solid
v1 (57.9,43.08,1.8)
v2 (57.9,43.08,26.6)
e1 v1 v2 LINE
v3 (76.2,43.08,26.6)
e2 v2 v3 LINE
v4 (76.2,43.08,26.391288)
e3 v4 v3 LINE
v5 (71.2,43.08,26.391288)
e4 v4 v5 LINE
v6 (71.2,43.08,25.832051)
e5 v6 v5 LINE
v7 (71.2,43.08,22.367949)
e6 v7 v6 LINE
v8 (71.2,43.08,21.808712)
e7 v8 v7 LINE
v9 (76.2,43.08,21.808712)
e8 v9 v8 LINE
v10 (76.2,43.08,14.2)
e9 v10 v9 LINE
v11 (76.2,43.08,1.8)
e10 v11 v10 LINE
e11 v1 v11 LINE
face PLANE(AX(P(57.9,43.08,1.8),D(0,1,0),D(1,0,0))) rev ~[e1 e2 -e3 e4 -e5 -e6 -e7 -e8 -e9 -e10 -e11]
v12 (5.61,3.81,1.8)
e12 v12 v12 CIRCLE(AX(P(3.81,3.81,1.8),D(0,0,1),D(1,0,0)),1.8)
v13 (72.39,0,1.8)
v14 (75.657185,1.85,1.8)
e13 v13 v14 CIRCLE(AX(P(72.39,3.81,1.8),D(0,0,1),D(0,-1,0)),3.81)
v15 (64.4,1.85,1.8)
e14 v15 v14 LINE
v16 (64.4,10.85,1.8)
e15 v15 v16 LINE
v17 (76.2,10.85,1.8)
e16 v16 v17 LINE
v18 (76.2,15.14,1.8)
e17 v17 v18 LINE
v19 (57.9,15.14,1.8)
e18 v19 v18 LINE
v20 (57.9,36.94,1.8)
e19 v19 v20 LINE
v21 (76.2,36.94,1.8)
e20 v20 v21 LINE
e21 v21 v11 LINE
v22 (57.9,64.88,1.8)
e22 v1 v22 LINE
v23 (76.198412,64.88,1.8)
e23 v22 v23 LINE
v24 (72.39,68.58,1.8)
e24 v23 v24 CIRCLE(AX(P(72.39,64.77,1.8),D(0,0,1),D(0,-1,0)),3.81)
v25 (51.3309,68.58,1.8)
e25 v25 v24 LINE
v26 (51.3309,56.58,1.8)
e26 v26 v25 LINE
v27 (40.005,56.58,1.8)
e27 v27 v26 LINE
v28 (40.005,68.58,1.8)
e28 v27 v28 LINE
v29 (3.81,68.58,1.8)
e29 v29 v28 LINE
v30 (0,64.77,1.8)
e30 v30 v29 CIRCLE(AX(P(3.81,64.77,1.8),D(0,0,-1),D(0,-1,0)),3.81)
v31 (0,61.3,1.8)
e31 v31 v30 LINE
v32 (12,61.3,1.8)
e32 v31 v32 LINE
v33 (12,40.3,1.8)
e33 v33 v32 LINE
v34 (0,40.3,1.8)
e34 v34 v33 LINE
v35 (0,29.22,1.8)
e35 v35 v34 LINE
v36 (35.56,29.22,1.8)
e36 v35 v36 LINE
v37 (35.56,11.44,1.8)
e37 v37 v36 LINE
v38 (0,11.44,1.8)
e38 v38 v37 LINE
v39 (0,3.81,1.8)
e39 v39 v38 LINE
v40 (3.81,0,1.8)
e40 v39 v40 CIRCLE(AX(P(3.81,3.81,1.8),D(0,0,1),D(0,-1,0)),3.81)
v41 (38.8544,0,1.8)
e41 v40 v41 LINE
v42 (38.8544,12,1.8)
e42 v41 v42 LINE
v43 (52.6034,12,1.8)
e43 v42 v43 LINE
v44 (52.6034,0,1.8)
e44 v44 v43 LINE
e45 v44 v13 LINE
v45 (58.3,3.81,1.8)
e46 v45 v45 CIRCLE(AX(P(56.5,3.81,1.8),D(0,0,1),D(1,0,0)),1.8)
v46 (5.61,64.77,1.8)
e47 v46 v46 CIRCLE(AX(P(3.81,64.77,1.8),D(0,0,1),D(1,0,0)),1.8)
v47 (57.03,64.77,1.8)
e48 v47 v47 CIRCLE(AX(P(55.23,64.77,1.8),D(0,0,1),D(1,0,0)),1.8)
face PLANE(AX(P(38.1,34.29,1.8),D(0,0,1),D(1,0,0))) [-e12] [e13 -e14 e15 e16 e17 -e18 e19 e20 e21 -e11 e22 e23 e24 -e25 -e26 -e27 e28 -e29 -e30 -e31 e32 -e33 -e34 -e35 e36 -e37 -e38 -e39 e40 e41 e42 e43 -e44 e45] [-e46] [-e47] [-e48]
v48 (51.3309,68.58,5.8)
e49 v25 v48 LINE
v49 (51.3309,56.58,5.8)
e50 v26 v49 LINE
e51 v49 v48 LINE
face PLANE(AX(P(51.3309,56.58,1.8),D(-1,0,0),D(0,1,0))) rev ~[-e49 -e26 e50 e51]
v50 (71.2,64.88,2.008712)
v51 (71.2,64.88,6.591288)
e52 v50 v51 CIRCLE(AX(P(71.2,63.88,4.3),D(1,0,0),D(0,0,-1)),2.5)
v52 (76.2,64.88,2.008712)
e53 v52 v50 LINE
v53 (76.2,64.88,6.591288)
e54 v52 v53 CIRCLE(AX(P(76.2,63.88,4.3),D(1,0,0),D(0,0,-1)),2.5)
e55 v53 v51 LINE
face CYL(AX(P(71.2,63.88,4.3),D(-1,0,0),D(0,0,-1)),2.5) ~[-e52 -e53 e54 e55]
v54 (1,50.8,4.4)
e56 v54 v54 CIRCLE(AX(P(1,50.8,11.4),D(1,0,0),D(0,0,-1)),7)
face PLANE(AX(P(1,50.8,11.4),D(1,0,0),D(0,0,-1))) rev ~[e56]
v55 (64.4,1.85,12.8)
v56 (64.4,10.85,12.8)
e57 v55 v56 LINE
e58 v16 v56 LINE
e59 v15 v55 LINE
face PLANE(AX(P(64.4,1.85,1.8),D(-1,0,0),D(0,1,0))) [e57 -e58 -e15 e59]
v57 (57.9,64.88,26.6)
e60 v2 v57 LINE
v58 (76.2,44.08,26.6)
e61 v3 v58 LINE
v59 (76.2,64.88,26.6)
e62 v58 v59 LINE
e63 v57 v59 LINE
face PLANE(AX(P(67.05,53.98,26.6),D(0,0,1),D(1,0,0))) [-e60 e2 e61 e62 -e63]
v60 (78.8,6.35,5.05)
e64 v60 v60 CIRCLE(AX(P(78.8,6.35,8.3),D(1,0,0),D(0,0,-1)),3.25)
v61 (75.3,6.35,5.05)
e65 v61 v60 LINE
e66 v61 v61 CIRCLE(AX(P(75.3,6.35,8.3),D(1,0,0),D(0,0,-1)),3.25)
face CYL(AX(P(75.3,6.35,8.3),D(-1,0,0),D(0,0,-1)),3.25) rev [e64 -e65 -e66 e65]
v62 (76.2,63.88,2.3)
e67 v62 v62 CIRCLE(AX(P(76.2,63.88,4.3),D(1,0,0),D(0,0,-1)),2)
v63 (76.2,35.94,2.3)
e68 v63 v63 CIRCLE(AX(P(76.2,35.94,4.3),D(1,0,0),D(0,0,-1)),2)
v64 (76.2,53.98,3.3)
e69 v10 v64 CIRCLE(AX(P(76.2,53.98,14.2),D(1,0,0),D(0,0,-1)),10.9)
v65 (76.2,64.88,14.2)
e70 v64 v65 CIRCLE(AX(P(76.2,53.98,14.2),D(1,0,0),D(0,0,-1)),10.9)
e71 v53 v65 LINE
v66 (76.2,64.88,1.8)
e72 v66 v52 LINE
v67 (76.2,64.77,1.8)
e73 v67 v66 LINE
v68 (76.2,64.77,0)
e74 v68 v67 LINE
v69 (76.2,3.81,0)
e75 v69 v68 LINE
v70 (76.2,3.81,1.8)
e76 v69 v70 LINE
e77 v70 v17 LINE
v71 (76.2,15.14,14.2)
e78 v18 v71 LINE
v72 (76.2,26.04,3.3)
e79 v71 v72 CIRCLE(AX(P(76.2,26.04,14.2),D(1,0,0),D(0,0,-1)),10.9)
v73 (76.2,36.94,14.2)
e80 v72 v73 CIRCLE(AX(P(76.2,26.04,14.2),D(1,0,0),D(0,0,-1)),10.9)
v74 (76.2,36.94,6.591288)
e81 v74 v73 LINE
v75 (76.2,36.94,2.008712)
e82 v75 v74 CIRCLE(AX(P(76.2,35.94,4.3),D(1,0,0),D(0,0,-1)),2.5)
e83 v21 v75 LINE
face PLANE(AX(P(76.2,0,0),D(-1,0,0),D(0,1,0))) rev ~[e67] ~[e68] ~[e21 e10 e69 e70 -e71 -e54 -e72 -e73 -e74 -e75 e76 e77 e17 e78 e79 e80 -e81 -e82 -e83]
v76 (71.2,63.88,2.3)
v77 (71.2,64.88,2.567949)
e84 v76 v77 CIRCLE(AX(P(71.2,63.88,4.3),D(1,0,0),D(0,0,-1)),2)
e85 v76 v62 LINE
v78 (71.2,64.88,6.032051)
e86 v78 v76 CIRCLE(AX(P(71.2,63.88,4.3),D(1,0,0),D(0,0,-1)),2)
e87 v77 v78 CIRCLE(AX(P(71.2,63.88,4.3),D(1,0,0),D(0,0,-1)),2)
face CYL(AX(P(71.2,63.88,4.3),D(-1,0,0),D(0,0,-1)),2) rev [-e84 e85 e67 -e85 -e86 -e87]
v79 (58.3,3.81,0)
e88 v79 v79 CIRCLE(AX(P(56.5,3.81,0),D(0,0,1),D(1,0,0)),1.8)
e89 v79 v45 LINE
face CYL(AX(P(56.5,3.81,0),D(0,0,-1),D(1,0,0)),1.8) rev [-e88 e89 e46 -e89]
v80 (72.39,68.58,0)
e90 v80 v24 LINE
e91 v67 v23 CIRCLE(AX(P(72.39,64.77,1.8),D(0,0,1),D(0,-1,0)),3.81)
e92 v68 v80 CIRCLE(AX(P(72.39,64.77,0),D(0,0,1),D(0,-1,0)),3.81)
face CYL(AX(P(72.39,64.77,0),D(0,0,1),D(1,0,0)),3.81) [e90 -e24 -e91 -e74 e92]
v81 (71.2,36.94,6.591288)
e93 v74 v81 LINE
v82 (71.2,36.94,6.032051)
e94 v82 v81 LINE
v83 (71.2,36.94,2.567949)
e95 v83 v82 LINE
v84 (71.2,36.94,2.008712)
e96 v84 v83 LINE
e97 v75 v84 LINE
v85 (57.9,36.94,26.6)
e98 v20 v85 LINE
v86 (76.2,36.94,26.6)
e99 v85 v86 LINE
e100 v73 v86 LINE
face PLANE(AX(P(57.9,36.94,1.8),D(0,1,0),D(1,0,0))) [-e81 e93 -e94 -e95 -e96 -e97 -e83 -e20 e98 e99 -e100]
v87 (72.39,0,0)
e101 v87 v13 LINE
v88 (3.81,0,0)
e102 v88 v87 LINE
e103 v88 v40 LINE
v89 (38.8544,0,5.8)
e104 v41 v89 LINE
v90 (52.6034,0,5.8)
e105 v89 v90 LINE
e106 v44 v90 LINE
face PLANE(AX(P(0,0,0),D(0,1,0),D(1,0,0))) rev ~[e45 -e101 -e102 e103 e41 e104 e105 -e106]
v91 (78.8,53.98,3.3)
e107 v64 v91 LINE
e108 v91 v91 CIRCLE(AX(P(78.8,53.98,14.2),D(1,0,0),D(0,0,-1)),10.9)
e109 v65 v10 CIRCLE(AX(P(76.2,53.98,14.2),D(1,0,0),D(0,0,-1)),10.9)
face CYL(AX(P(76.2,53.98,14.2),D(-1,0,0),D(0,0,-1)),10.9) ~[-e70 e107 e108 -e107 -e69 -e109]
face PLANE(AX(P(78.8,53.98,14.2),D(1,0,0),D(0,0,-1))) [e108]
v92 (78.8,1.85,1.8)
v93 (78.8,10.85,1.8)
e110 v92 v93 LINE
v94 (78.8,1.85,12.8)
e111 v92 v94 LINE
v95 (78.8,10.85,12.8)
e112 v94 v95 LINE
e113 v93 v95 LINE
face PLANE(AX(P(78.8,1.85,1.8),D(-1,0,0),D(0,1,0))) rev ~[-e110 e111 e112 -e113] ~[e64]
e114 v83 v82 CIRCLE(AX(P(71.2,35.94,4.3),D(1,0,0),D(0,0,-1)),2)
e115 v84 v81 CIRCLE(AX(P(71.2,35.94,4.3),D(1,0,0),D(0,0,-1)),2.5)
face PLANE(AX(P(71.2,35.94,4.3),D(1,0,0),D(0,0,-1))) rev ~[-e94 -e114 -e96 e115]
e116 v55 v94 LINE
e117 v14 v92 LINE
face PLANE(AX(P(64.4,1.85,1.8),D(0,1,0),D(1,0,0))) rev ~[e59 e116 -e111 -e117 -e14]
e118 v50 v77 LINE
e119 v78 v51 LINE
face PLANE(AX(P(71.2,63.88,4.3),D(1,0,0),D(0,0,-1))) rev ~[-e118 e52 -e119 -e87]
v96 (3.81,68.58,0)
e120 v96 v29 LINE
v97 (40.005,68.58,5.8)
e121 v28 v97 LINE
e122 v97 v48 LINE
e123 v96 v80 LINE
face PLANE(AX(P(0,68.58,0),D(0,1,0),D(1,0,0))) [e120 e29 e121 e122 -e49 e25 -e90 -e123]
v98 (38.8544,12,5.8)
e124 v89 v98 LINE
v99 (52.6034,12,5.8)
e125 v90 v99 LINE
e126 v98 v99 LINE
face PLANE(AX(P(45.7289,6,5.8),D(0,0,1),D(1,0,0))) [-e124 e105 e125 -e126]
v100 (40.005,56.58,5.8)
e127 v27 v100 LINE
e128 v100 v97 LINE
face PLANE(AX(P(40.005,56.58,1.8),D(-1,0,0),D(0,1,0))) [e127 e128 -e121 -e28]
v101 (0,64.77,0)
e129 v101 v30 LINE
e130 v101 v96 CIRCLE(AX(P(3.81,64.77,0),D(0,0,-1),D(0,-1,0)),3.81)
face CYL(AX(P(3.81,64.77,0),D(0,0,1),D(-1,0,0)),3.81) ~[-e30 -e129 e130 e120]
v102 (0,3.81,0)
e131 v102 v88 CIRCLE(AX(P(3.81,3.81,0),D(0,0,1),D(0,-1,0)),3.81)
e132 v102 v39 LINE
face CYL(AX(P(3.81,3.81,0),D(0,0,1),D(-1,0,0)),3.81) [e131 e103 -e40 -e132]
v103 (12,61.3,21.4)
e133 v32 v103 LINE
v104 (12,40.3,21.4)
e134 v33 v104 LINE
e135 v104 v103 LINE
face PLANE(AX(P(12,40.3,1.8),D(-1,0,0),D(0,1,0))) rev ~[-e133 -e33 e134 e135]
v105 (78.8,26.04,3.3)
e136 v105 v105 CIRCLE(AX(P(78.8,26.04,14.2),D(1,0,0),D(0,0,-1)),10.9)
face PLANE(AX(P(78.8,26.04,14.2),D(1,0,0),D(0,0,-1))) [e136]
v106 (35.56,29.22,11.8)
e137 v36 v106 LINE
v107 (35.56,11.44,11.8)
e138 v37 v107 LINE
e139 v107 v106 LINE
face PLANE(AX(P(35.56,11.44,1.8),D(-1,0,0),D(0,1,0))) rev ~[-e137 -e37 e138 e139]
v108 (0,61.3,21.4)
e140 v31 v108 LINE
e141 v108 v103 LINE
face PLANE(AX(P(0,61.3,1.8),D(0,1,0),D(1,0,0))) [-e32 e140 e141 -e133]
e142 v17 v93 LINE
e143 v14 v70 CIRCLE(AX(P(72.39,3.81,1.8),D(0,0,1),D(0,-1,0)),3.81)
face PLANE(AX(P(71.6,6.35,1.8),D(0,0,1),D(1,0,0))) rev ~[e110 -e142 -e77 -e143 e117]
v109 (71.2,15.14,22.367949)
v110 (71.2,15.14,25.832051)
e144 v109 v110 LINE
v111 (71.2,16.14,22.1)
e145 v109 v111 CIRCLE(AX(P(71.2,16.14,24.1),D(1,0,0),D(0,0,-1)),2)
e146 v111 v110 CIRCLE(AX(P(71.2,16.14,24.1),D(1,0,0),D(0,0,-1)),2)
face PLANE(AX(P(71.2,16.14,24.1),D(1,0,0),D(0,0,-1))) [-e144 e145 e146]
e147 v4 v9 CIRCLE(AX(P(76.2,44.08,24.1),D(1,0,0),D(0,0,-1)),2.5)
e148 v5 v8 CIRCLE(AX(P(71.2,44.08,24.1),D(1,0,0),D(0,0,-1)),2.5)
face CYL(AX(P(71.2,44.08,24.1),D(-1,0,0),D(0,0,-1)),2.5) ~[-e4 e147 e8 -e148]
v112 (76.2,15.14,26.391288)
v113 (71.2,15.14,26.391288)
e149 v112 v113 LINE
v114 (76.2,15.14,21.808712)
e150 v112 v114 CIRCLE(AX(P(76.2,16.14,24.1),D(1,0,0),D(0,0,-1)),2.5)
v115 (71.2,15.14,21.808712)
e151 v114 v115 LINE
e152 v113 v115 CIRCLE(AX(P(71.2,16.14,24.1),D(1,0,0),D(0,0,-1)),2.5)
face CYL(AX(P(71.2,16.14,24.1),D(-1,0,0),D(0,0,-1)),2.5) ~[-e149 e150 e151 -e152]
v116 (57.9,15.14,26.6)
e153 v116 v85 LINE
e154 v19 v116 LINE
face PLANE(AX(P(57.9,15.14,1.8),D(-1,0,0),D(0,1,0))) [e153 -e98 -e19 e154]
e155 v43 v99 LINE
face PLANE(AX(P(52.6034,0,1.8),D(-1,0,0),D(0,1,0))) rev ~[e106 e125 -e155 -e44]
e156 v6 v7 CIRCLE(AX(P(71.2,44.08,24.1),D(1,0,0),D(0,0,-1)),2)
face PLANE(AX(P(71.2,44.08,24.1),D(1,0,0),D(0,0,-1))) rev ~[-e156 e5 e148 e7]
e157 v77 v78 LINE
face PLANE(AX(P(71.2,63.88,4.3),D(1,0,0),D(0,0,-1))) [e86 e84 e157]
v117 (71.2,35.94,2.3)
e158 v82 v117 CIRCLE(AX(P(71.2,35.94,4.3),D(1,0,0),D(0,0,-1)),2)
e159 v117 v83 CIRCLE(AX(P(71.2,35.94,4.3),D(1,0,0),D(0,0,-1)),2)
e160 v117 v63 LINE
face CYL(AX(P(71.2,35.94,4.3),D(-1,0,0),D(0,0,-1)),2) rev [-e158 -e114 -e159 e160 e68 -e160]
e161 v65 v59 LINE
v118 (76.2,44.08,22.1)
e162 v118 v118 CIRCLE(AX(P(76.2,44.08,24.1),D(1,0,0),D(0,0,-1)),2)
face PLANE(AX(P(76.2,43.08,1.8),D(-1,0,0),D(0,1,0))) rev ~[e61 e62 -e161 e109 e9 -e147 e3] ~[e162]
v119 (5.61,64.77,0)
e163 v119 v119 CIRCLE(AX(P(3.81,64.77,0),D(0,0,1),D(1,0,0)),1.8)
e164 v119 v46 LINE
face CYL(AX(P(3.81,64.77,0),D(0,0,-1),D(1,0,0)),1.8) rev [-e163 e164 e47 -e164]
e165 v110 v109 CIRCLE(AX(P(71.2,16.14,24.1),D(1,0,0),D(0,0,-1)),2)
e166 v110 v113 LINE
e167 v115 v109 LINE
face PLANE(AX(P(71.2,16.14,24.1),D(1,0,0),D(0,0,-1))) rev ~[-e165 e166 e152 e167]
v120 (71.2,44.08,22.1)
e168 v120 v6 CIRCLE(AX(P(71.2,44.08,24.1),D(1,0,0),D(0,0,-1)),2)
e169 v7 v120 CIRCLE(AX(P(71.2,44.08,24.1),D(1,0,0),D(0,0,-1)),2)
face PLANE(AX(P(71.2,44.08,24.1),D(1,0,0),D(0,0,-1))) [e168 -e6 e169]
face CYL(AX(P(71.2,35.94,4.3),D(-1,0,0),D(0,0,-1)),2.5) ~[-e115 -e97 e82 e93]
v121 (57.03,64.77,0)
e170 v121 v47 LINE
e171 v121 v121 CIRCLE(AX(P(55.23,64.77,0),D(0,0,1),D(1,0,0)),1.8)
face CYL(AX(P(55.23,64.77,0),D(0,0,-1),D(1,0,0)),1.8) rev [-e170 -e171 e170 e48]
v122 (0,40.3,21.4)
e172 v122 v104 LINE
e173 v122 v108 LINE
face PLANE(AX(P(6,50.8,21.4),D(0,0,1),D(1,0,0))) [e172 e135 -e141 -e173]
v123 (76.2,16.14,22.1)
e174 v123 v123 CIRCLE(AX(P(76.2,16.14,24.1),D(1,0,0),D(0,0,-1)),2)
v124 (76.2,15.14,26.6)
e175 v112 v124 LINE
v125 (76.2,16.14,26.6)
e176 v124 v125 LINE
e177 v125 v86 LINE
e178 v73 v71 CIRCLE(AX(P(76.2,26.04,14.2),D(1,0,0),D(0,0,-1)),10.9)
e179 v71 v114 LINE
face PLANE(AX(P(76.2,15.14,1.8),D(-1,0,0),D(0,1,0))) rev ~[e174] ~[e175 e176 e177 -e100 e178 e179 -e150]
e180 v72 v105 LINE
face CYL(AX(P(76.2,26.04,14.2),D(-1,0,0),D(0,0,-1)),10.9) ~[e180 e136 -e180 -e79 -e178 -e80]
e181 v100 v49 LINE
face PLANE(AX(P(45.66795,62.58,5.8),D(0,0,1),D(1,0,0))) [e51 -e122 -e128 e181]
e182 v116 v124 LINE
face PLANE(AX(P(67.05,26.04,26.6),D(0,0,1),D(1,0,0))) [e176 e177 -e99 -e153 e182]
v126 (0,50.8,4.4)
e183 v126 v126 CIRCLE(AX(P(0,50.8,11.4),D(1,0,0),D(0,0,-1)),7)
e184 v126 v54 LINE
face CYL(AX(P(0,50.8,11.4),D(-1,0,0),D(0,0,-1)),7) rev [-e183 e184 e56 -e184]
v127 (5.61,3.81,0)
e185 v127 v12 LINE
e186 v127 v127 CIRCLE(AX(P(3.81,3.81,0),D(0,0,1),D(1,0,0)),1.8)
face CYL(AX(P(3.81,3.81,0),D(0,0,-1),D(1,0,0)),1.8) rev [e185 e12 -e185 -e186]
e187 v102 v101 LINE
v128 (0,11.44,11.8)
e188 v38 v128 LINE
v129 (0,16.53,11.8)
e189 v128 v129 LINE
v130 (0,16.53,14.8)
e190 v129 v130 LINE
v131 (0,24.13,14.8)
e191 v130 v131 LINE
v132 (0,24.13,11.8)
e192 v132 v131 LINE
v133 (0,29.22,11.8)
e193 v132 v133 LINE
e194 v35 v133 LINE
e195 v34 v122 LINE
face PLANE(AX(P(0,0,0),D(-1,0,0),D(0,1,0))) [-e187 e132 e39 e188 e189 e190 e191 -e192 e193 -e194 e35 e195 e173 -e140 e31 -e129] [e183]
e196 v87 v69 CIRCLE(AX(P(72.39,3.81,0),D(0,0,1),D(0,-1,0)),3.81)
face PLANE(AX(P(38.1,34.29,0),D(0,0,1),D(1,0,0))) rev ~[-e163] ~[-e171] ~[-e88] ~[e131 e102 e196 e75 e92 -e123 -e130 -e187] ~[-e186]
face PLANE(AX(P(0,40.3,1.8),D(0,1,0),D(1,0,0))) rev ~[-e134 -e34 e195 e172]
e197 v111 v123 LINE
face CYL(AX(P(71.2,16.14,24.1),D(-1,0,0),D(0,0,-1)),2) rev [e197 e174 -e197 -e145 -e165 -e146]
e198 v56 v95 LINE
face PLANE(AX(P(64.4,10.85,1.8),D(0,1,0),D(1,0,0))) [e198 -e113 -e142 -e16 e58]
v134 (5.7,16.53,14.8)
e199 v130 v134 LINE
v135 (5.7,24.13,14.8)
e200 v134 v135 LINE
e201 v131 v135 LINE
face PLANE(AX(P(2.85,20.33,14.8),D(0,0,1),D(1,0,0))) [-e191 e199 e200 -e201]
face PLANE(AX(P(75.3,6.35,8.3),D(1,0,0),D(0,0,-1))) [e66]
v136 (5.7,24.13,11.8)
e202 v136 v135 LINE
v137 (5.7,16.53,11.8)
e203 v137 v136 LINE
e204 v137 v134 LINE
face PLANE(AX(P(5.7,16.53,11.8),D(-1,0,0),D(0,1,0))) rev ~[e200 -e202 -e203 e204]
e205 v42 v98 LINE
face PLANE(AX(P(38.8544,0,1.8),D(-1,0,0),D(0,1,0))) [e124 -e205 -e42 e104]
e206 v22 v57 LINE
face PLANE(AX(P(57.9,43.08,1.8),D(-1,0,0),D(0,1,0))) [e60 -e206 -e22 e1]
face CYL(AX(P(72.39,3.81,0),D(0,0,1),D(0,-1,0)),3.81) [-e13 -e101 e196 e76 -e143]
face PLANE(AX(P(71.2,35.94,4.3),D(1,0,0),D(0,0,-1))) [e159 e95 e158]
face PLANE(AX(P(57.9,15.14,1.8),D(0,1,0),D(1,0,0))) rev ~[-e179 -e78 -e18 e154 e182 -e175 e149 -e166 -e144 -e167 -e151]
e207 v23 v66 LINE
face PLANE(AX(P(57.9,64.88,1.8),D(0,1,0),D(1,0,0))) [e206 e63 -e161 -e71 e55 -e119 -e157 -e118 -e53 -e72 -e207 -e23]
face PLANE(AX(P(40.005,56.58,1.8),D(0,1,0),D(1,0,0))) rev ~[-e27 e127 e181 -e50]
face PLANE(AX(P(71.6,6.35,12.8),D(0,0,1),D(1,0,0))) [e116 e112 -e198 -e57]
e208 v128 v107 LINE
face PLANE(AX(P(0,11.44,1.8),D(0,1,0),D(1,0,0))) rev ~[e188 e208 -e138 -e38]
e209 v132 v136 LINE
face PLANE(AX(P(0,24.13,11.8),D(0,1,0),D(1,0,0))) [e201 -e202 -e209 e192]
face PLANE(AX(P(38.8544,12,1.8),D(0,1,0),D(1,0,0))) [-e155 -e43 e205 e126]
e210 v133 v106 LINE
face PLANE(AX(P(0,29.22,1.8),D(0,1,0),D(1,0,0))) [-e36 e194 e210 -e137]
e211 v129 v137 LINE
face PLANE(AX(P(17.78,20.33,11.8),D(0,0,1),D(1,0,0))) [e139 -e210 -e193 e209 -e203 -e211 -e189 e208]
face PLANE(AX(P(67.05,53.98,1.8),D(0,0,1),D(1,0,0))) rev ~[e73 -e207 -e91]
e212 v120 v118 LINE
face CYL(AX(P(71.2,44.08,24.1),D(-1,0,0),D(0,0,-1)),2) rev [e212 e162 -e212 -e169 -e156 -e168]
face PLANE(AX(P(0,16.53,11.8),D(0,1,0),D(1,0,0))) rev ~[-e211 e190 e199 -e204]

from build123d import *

# Parameters (mm, degrees)
CYLINDER004_R     = 7
CYLINDER004_DEPTH = 1
BOX003_W          = 12
BOX003_H          = 21
BOX003_DEPTH      = 19.6
BOX002_W          = 5.7
BOX002_H          = 7.6
BOX002_DEPTH      = 3
BOX001_W          = 35.56
BOX001_H          = 17.78
BOX001_DEPTH      = 10
BOX004_W          = 13.749
BOX004_H          = 12
BOX004_DEPTH      = 4
BOX005_W          = 11.3259
BOX005_H          = 12
BOX005_DEPTH      = 4
CYLINDER005_R     = 3.25
CYLINDER005_DEPTH = 3.5
BOX006_W          = 14.4
BOX006_H          = 9
BOX006_DEPTH      = 11
CYLINDER007_R     = 2
CYLINDER007_DEPTH = 5
CYLINDER006_R     = 2
CYLINDER006_DEPTH = 5
CYLINDER009_R     = 2.5
CYLINDER009_DEPTH = 5
CYLINDER008_R     = 10.9
CYLINDER008_DEPTH = 2.6
BOX007_W          = 18.3
BOX007_H          = 21.8
BOX007_DEPTH      = 24.8
CYLINDER010_R     = 2.5
CYLINDER010_DEPTH = 5
CYLINDER001_R     = 1.8
CYLINDER001_DEPTH = 1.8
CYLINDER002_R     = 1.8
CYLINDER002_DEPTH = 1.8
CYLINDER003_R     = 1.8
CYLINDER003_DEPTH = 1.8
CYLINDER_R        = 1.8
CYLINDER_DEPTH    = 1.8
BOX_W             = 76.2
BOX_H             = 68.58
BOX_DEPTH         = 1.8
FILLET_R          = 3.81
CYLINDER015_R     = 2
CYLINDER015_DEPTH = 5
CYLINDER011_R     = 2
CYLINDER011_DEPTH = 5
CYLINDER012_R     = 2.5
CYLINDER012_DEPTH = 5
CYLINDER014_R     = 10.9
CYLINDER014_DEPTH = 2.6
BOX008_W          = 18.3
BOX008_H          = 21.8
BOX008_DEPTH      = 24.8
CYLINDER013_R     = 2.5
CYLINDER013_DEPTH = 5


with BuildPart() as cylinder004:
    # Cylinder004 → Cylinder004 (new body)
    with BuildSketch(Plane(origin=(0, 50.8, 11.4), x_dir=(0, 0, -1), z_dir=(1, 0, 0))):
        Circle(CYLINDER004_R)
    extrude(amount=CYLINDER004_DEPTH)


with BuildPart() as midi:
    # Box003 → Box003 (new body)
    with BuildSketch(Plane(origin=(0, 40.3, 1.8), x_dir=(1, 0, 0), z_dir=(0, 0, 1))):
        with Locations((6, 10.5)):
            Rectangle(BOX003_W, BOX003_H)
    extrude(amount=BOX003_DEPTH)

    # Cut001: cut Cylinder004
    add(cylinder004.part, mode=Mode.SUBTRACT)


with BuildPart() as cube002:
    # Box002 → Box002 (new body)
    with BuildSketch(Plane(origin=(0, 16.53, 11.8), x_dir=(1, 0, 0), z_dir=(0, 0, 1))):
        with Locations((2.85, 3.8)):
            Rectangle(BOX002_W, BOX002_H)
    extrude(amount=BOX002_DEPTH)


with BuildPart() as itsybitsy:
    # Box001 → Box001 (new body)
    with BuildSketch(Plane(origin=(0, 11.44, 1.8), x_dir=(1, 0, 0), z_dir=(0, 0, 1))):
        with Locations((17.78, 8.89)):
            Rectangle(BOX001_W, BOX001_H)
    extrude(amount=BOX001_DEPTH)

    # Fusion001: union Cube002
    add(cube002.part)


with BuildPart() as rgbw:
    # Box004 → Box004 (new body)
    with BuildSketch(Plane(origin=(38.8544, 0, 1.8), x_dir=(1, 0, 0), z_dir=(0, 0, 1))):
        with Locations((6.8745, 6)):
            Rectangle(BOX004_W, BOX004_H)
    extrude(amount=BOX004_DEPTH)


with BuildPart() as argb:
    # Box005 → Box005 (new body)
    with BuildSketch(Plane(origin=(40.005, 56.58, 1.8), x_dir=(1, 0, 0), z_dir=(0, 0, 1))):
        with Locations((5.66295, 6)):
            Rectangle(BOX005_W, BOX005_H)
    extrude(amount=BOX005_DEPTH)


with BuildPart() as cylinder005:
    # Cylinder005 → Cylinder005 (new body)
    with BuildSketch(Plane(origin=(10.9, 4.5, 8.3), x_dir=(0, 0, -1), z_dir=(1, 0, 0))):
        Circle(CYLINDER005_R)
    extrude(amount=CYLINDER005_DEPTH)


with BuildPart() as dc_jack:
    # Box006 → Box006 (new body)
    with BuildSketch(Plane.XY.offset(1.8)):
        with Locations((7.2, 4.5)):
            Rectangle(BOX006_W, BOX006_H)
    extrude(amount=BOX006_DEPTH)

    # Cut002: cut Cylinder005
    add(cylinder005.part, mode=Mode.SUBTRACT)


with BuildPart() as dc_jack_1:
    # Cut002 placement: moved
    add(dc_jack.part.moved(Location((64.4, 1.85, 0))))


with BuildPart() as cylinder007:
    # Cylinder007 → Cylinder007 (new body)
    with BuildSketch(Plane(origin=(13.3, 20.8, 2.5), x_dir=(0, 0, -1), z_dir=(1, 0, 0))):
        Circle(CYLINDER007_R)
    extrude(amount=CYLINDER007_DEPTH)


with BuildPart() as fusion003:
    # Cylinder006 → Cylinder006 (new body)
    with BuildSketch(Plane(origin=(13.3, 1, 22.3), x_dir=(0, 0, -1), z_dir=(1, 0, 0))):
        Circle(CYLINDER006_R)
    extrude(amount=CYLINDER006_DEPTH)

    # Fusion003: union Cylinder007
    add(cylinder007.part)


with BuildPart() as cylinder009:
    # Cylinder009 → Cylinder009 (new body)
    with BuildSketch(Plane(origin=(13.3, 1, 22.3), x_dir=(0, 0, -1), z_dir=(1, 0, 0))):
        Circle(CYLINDER009_R)
    extrude(amount=CYLINDER009_DEPTH)


with BuildPart() as cylinder008:
    # Cylinder008 → Cylinder008 (new body)
    with BuildSketch(Plane(origin=(18.3, 10.9, 12.4), x_dir=(0, 0, -1), z_dir=(1, 0, 0))):
        Circle(CYLINDER008_R)
    extrude(amount=CYLINDER008_DEPTH)


with BuildPart() as cube005:
    # Box007 → Box007 (new body)
    with BuildSketch(Plane.XY):
        with Locations((9.15, 10.9)):
            Rectangle(BOX007_W, BOX007_H)
    extrude(amount=BOX007_DEPTH)


with BuildPart() as dmx_xlr:
    # Cylinder010 → Cylinder010 (new body)
    with BuildSketch(Plane(origin=(13.3, 20.8, 2.5), x_dir=(0, 0, -1), z_dir=(1, 0, 0))):
        Circle(CYLINDER010_R)
    extrude(amount=CYLINDER010_DEPTH)

    # Fusion002: union Cylinder009, Cylinder008, Cube005
    add(cylinder009.part)
    add(cylinder008.part)
    add(cube005.part)

    # Cut003: cut Fusion003
    add(fusion003.part, mode=Mode.SUBTRACT)


with BuildPart() as dmx_xlr_1:
    # Cut003 placement: moved
    add(dmx_xlr.part.moved(Location((57.9, 15.14, 1.8))))


with BuildPart() as cylinder001:
    # Cylinder001 → Cylinder001 (new body)
    with BuildSketch(Plane(origin=(3.81, 64.77, 0), x_dir=(1, 0, 0), z_dir=(0, 0, 1))):
        Circle(CYLINDER001_R)
    extrude(amount=CYLINDER001_DEPTH)


with BuildPart() as cylinder002:
    # Cylinder002 → Cylinder002 (new body)
    with BuildSketch(Plane(origin=(56.5, 3.81, 0), x_dir=(1, 0, 0), z_dir=(0, 0, 1))):
        Circle(CYLINDER002_R)
    extrude(amount=CYLINDER002_DEPTH)


with BuildPart() as cylinder003:
    # Cylinder003 → Cylinder003 (new body)
    with BuildSketch(Plane(origin=(55.23, 64.77, 0), x_dir=(1, 0, 0), z_dir=(0, 0, 1))):
        Circle(CYLINDER003_R)
    extrude(amount=CYLINDER003_DEPTH)


with BuildPart() as fusion:
    # Cylinder → Cylinder (new body)
    with BuildSketch(Plane(origin=(3.81, 3.81, 0), x_dir=(1, 0, 0), z_dir=(0, 0, 1))):
        Circle(CYLINDER_R)
    extrude(amount=CYLINDER_DEPTH)

    # Fusion: union Cylinder001, Cylinder002, Cylinder003
    add(cylinder001.part)
    add(cylinder002.part)
    add(cylinder003.part)


with BuildPart() as pcb:
    # Box → Box (new body)
    with BuildSketch(Plane.XY):
        with Locations((38.1, 34.29)):
            Rectangle(BOX_W, BOX_H)
    extrude(amount=BOX_DEPTH)

    # Fillet
    fillet_edges = [pcb.edges().sort_by_distance(p)[0] for p in [
        (0, 0, 0.9),
        (0, 68.58, 0.9),
        (76.2, 0, 0.9),
        (76.2, 68.58, 0.9),
    ]]
    fillet(fillet_edges, radius=FILLET_R)

    # Cut: cut Fusion
    add(fusion.part, mode=Mode.SUBTRACT)


with BuildPart() as cylinder015:
    # Cylinder015 → Cylinder015 (new body)
    with BuildSketch(Plane(origin=(13.3, 20.8, 2.5), x_dir=(0, 0, -1), z_dir=(1, 0, 0))):
        Circle(CYLINDER015_R)
    extrude(amount=CYLINDER015_DEPTH)


with BuildPart() as fusion004:
    # Cylinder011 → Cylinder011 (new body)
    with BuildSketch(Plane(origin=(13.3, 1, 22.3), x_dir=(0, 0, -1), z_dir=(1, 0, 0))):
        Circle(CYLINDER011_R)
    extrude(amount=CYLINDER011_DEPTH)

    # Fusion004: union Cylinder015
    add(cylinder015.part)


with BuildPart() as cylinder012:
    # Cylinder012 → Cylinder012 (new body)
    with BuildSketch(Plane(origin=(13.3, 1, 22.3), x_dir=(0, 0, -1), z_dir=(1, 0, 0))):
        Circle(CYLINDER012_R)
    extrude(amount=CYLINDER012_DEPTH)


with BuildPart() as cylinder014:
    # Cylinder014 → Cylinder014 (new body)
    with BuildSketch(Plane(origin=(18.3, 10.9, 12.4), x_dir=(0, 0, -1), z_dir=(1, 0, 0))):
        Circle(CYLINDER014_R)
    extrude(amount=CYLINDER014_DEPTH)


with BuildPart() as cube006:
    # Box008 → Box008 (new body)
    with BuildSketch(Plane.XY):
        with Locations((9.15, 10.9)):
            Rectangle(BOX008_W, BOX008_H)
    extrude(amount=BOX008_DEPTH)


with BuildPart() as device:
    # Cylinder013 → Cylinder013 (new body)
    with BuildSketch(Plane(origin=(13.3, 20.8, 2.5), x_dir=(0, 0, -1), z_dir=(1, 0, 0))):
        Circle(CYLINDER013_R)
    extrude(amount=CYLINDER013_DEPTH)

    # Fusion005: union Cylinder012, Cylinder014, Cube006
    add(cylinder012.part)
    add(cylinder014.part)
    add(cube006.part)

    # Cut004: cut Fusion004
    add(fusion004.part, mode=Mode.SUBTRACT)


with BuildPart() as device_1:
    # Cut004 placement: moved
    add(device.part.moved(Location((57.9, 43.08, 1.8))))

    # Fusion006: union Midi, ItsyBitsy, RGBW, ARGB, DC Jack, DMX XLR, PCB
    add(midi.part)
    add(itsybitsy.part)
    add(rgbw.part)
    add(argb.part)
    add(dc_jack_1.part)
    add(dmx_xlr_1.part)
    add(pcb.part)


solid = device_1.part
